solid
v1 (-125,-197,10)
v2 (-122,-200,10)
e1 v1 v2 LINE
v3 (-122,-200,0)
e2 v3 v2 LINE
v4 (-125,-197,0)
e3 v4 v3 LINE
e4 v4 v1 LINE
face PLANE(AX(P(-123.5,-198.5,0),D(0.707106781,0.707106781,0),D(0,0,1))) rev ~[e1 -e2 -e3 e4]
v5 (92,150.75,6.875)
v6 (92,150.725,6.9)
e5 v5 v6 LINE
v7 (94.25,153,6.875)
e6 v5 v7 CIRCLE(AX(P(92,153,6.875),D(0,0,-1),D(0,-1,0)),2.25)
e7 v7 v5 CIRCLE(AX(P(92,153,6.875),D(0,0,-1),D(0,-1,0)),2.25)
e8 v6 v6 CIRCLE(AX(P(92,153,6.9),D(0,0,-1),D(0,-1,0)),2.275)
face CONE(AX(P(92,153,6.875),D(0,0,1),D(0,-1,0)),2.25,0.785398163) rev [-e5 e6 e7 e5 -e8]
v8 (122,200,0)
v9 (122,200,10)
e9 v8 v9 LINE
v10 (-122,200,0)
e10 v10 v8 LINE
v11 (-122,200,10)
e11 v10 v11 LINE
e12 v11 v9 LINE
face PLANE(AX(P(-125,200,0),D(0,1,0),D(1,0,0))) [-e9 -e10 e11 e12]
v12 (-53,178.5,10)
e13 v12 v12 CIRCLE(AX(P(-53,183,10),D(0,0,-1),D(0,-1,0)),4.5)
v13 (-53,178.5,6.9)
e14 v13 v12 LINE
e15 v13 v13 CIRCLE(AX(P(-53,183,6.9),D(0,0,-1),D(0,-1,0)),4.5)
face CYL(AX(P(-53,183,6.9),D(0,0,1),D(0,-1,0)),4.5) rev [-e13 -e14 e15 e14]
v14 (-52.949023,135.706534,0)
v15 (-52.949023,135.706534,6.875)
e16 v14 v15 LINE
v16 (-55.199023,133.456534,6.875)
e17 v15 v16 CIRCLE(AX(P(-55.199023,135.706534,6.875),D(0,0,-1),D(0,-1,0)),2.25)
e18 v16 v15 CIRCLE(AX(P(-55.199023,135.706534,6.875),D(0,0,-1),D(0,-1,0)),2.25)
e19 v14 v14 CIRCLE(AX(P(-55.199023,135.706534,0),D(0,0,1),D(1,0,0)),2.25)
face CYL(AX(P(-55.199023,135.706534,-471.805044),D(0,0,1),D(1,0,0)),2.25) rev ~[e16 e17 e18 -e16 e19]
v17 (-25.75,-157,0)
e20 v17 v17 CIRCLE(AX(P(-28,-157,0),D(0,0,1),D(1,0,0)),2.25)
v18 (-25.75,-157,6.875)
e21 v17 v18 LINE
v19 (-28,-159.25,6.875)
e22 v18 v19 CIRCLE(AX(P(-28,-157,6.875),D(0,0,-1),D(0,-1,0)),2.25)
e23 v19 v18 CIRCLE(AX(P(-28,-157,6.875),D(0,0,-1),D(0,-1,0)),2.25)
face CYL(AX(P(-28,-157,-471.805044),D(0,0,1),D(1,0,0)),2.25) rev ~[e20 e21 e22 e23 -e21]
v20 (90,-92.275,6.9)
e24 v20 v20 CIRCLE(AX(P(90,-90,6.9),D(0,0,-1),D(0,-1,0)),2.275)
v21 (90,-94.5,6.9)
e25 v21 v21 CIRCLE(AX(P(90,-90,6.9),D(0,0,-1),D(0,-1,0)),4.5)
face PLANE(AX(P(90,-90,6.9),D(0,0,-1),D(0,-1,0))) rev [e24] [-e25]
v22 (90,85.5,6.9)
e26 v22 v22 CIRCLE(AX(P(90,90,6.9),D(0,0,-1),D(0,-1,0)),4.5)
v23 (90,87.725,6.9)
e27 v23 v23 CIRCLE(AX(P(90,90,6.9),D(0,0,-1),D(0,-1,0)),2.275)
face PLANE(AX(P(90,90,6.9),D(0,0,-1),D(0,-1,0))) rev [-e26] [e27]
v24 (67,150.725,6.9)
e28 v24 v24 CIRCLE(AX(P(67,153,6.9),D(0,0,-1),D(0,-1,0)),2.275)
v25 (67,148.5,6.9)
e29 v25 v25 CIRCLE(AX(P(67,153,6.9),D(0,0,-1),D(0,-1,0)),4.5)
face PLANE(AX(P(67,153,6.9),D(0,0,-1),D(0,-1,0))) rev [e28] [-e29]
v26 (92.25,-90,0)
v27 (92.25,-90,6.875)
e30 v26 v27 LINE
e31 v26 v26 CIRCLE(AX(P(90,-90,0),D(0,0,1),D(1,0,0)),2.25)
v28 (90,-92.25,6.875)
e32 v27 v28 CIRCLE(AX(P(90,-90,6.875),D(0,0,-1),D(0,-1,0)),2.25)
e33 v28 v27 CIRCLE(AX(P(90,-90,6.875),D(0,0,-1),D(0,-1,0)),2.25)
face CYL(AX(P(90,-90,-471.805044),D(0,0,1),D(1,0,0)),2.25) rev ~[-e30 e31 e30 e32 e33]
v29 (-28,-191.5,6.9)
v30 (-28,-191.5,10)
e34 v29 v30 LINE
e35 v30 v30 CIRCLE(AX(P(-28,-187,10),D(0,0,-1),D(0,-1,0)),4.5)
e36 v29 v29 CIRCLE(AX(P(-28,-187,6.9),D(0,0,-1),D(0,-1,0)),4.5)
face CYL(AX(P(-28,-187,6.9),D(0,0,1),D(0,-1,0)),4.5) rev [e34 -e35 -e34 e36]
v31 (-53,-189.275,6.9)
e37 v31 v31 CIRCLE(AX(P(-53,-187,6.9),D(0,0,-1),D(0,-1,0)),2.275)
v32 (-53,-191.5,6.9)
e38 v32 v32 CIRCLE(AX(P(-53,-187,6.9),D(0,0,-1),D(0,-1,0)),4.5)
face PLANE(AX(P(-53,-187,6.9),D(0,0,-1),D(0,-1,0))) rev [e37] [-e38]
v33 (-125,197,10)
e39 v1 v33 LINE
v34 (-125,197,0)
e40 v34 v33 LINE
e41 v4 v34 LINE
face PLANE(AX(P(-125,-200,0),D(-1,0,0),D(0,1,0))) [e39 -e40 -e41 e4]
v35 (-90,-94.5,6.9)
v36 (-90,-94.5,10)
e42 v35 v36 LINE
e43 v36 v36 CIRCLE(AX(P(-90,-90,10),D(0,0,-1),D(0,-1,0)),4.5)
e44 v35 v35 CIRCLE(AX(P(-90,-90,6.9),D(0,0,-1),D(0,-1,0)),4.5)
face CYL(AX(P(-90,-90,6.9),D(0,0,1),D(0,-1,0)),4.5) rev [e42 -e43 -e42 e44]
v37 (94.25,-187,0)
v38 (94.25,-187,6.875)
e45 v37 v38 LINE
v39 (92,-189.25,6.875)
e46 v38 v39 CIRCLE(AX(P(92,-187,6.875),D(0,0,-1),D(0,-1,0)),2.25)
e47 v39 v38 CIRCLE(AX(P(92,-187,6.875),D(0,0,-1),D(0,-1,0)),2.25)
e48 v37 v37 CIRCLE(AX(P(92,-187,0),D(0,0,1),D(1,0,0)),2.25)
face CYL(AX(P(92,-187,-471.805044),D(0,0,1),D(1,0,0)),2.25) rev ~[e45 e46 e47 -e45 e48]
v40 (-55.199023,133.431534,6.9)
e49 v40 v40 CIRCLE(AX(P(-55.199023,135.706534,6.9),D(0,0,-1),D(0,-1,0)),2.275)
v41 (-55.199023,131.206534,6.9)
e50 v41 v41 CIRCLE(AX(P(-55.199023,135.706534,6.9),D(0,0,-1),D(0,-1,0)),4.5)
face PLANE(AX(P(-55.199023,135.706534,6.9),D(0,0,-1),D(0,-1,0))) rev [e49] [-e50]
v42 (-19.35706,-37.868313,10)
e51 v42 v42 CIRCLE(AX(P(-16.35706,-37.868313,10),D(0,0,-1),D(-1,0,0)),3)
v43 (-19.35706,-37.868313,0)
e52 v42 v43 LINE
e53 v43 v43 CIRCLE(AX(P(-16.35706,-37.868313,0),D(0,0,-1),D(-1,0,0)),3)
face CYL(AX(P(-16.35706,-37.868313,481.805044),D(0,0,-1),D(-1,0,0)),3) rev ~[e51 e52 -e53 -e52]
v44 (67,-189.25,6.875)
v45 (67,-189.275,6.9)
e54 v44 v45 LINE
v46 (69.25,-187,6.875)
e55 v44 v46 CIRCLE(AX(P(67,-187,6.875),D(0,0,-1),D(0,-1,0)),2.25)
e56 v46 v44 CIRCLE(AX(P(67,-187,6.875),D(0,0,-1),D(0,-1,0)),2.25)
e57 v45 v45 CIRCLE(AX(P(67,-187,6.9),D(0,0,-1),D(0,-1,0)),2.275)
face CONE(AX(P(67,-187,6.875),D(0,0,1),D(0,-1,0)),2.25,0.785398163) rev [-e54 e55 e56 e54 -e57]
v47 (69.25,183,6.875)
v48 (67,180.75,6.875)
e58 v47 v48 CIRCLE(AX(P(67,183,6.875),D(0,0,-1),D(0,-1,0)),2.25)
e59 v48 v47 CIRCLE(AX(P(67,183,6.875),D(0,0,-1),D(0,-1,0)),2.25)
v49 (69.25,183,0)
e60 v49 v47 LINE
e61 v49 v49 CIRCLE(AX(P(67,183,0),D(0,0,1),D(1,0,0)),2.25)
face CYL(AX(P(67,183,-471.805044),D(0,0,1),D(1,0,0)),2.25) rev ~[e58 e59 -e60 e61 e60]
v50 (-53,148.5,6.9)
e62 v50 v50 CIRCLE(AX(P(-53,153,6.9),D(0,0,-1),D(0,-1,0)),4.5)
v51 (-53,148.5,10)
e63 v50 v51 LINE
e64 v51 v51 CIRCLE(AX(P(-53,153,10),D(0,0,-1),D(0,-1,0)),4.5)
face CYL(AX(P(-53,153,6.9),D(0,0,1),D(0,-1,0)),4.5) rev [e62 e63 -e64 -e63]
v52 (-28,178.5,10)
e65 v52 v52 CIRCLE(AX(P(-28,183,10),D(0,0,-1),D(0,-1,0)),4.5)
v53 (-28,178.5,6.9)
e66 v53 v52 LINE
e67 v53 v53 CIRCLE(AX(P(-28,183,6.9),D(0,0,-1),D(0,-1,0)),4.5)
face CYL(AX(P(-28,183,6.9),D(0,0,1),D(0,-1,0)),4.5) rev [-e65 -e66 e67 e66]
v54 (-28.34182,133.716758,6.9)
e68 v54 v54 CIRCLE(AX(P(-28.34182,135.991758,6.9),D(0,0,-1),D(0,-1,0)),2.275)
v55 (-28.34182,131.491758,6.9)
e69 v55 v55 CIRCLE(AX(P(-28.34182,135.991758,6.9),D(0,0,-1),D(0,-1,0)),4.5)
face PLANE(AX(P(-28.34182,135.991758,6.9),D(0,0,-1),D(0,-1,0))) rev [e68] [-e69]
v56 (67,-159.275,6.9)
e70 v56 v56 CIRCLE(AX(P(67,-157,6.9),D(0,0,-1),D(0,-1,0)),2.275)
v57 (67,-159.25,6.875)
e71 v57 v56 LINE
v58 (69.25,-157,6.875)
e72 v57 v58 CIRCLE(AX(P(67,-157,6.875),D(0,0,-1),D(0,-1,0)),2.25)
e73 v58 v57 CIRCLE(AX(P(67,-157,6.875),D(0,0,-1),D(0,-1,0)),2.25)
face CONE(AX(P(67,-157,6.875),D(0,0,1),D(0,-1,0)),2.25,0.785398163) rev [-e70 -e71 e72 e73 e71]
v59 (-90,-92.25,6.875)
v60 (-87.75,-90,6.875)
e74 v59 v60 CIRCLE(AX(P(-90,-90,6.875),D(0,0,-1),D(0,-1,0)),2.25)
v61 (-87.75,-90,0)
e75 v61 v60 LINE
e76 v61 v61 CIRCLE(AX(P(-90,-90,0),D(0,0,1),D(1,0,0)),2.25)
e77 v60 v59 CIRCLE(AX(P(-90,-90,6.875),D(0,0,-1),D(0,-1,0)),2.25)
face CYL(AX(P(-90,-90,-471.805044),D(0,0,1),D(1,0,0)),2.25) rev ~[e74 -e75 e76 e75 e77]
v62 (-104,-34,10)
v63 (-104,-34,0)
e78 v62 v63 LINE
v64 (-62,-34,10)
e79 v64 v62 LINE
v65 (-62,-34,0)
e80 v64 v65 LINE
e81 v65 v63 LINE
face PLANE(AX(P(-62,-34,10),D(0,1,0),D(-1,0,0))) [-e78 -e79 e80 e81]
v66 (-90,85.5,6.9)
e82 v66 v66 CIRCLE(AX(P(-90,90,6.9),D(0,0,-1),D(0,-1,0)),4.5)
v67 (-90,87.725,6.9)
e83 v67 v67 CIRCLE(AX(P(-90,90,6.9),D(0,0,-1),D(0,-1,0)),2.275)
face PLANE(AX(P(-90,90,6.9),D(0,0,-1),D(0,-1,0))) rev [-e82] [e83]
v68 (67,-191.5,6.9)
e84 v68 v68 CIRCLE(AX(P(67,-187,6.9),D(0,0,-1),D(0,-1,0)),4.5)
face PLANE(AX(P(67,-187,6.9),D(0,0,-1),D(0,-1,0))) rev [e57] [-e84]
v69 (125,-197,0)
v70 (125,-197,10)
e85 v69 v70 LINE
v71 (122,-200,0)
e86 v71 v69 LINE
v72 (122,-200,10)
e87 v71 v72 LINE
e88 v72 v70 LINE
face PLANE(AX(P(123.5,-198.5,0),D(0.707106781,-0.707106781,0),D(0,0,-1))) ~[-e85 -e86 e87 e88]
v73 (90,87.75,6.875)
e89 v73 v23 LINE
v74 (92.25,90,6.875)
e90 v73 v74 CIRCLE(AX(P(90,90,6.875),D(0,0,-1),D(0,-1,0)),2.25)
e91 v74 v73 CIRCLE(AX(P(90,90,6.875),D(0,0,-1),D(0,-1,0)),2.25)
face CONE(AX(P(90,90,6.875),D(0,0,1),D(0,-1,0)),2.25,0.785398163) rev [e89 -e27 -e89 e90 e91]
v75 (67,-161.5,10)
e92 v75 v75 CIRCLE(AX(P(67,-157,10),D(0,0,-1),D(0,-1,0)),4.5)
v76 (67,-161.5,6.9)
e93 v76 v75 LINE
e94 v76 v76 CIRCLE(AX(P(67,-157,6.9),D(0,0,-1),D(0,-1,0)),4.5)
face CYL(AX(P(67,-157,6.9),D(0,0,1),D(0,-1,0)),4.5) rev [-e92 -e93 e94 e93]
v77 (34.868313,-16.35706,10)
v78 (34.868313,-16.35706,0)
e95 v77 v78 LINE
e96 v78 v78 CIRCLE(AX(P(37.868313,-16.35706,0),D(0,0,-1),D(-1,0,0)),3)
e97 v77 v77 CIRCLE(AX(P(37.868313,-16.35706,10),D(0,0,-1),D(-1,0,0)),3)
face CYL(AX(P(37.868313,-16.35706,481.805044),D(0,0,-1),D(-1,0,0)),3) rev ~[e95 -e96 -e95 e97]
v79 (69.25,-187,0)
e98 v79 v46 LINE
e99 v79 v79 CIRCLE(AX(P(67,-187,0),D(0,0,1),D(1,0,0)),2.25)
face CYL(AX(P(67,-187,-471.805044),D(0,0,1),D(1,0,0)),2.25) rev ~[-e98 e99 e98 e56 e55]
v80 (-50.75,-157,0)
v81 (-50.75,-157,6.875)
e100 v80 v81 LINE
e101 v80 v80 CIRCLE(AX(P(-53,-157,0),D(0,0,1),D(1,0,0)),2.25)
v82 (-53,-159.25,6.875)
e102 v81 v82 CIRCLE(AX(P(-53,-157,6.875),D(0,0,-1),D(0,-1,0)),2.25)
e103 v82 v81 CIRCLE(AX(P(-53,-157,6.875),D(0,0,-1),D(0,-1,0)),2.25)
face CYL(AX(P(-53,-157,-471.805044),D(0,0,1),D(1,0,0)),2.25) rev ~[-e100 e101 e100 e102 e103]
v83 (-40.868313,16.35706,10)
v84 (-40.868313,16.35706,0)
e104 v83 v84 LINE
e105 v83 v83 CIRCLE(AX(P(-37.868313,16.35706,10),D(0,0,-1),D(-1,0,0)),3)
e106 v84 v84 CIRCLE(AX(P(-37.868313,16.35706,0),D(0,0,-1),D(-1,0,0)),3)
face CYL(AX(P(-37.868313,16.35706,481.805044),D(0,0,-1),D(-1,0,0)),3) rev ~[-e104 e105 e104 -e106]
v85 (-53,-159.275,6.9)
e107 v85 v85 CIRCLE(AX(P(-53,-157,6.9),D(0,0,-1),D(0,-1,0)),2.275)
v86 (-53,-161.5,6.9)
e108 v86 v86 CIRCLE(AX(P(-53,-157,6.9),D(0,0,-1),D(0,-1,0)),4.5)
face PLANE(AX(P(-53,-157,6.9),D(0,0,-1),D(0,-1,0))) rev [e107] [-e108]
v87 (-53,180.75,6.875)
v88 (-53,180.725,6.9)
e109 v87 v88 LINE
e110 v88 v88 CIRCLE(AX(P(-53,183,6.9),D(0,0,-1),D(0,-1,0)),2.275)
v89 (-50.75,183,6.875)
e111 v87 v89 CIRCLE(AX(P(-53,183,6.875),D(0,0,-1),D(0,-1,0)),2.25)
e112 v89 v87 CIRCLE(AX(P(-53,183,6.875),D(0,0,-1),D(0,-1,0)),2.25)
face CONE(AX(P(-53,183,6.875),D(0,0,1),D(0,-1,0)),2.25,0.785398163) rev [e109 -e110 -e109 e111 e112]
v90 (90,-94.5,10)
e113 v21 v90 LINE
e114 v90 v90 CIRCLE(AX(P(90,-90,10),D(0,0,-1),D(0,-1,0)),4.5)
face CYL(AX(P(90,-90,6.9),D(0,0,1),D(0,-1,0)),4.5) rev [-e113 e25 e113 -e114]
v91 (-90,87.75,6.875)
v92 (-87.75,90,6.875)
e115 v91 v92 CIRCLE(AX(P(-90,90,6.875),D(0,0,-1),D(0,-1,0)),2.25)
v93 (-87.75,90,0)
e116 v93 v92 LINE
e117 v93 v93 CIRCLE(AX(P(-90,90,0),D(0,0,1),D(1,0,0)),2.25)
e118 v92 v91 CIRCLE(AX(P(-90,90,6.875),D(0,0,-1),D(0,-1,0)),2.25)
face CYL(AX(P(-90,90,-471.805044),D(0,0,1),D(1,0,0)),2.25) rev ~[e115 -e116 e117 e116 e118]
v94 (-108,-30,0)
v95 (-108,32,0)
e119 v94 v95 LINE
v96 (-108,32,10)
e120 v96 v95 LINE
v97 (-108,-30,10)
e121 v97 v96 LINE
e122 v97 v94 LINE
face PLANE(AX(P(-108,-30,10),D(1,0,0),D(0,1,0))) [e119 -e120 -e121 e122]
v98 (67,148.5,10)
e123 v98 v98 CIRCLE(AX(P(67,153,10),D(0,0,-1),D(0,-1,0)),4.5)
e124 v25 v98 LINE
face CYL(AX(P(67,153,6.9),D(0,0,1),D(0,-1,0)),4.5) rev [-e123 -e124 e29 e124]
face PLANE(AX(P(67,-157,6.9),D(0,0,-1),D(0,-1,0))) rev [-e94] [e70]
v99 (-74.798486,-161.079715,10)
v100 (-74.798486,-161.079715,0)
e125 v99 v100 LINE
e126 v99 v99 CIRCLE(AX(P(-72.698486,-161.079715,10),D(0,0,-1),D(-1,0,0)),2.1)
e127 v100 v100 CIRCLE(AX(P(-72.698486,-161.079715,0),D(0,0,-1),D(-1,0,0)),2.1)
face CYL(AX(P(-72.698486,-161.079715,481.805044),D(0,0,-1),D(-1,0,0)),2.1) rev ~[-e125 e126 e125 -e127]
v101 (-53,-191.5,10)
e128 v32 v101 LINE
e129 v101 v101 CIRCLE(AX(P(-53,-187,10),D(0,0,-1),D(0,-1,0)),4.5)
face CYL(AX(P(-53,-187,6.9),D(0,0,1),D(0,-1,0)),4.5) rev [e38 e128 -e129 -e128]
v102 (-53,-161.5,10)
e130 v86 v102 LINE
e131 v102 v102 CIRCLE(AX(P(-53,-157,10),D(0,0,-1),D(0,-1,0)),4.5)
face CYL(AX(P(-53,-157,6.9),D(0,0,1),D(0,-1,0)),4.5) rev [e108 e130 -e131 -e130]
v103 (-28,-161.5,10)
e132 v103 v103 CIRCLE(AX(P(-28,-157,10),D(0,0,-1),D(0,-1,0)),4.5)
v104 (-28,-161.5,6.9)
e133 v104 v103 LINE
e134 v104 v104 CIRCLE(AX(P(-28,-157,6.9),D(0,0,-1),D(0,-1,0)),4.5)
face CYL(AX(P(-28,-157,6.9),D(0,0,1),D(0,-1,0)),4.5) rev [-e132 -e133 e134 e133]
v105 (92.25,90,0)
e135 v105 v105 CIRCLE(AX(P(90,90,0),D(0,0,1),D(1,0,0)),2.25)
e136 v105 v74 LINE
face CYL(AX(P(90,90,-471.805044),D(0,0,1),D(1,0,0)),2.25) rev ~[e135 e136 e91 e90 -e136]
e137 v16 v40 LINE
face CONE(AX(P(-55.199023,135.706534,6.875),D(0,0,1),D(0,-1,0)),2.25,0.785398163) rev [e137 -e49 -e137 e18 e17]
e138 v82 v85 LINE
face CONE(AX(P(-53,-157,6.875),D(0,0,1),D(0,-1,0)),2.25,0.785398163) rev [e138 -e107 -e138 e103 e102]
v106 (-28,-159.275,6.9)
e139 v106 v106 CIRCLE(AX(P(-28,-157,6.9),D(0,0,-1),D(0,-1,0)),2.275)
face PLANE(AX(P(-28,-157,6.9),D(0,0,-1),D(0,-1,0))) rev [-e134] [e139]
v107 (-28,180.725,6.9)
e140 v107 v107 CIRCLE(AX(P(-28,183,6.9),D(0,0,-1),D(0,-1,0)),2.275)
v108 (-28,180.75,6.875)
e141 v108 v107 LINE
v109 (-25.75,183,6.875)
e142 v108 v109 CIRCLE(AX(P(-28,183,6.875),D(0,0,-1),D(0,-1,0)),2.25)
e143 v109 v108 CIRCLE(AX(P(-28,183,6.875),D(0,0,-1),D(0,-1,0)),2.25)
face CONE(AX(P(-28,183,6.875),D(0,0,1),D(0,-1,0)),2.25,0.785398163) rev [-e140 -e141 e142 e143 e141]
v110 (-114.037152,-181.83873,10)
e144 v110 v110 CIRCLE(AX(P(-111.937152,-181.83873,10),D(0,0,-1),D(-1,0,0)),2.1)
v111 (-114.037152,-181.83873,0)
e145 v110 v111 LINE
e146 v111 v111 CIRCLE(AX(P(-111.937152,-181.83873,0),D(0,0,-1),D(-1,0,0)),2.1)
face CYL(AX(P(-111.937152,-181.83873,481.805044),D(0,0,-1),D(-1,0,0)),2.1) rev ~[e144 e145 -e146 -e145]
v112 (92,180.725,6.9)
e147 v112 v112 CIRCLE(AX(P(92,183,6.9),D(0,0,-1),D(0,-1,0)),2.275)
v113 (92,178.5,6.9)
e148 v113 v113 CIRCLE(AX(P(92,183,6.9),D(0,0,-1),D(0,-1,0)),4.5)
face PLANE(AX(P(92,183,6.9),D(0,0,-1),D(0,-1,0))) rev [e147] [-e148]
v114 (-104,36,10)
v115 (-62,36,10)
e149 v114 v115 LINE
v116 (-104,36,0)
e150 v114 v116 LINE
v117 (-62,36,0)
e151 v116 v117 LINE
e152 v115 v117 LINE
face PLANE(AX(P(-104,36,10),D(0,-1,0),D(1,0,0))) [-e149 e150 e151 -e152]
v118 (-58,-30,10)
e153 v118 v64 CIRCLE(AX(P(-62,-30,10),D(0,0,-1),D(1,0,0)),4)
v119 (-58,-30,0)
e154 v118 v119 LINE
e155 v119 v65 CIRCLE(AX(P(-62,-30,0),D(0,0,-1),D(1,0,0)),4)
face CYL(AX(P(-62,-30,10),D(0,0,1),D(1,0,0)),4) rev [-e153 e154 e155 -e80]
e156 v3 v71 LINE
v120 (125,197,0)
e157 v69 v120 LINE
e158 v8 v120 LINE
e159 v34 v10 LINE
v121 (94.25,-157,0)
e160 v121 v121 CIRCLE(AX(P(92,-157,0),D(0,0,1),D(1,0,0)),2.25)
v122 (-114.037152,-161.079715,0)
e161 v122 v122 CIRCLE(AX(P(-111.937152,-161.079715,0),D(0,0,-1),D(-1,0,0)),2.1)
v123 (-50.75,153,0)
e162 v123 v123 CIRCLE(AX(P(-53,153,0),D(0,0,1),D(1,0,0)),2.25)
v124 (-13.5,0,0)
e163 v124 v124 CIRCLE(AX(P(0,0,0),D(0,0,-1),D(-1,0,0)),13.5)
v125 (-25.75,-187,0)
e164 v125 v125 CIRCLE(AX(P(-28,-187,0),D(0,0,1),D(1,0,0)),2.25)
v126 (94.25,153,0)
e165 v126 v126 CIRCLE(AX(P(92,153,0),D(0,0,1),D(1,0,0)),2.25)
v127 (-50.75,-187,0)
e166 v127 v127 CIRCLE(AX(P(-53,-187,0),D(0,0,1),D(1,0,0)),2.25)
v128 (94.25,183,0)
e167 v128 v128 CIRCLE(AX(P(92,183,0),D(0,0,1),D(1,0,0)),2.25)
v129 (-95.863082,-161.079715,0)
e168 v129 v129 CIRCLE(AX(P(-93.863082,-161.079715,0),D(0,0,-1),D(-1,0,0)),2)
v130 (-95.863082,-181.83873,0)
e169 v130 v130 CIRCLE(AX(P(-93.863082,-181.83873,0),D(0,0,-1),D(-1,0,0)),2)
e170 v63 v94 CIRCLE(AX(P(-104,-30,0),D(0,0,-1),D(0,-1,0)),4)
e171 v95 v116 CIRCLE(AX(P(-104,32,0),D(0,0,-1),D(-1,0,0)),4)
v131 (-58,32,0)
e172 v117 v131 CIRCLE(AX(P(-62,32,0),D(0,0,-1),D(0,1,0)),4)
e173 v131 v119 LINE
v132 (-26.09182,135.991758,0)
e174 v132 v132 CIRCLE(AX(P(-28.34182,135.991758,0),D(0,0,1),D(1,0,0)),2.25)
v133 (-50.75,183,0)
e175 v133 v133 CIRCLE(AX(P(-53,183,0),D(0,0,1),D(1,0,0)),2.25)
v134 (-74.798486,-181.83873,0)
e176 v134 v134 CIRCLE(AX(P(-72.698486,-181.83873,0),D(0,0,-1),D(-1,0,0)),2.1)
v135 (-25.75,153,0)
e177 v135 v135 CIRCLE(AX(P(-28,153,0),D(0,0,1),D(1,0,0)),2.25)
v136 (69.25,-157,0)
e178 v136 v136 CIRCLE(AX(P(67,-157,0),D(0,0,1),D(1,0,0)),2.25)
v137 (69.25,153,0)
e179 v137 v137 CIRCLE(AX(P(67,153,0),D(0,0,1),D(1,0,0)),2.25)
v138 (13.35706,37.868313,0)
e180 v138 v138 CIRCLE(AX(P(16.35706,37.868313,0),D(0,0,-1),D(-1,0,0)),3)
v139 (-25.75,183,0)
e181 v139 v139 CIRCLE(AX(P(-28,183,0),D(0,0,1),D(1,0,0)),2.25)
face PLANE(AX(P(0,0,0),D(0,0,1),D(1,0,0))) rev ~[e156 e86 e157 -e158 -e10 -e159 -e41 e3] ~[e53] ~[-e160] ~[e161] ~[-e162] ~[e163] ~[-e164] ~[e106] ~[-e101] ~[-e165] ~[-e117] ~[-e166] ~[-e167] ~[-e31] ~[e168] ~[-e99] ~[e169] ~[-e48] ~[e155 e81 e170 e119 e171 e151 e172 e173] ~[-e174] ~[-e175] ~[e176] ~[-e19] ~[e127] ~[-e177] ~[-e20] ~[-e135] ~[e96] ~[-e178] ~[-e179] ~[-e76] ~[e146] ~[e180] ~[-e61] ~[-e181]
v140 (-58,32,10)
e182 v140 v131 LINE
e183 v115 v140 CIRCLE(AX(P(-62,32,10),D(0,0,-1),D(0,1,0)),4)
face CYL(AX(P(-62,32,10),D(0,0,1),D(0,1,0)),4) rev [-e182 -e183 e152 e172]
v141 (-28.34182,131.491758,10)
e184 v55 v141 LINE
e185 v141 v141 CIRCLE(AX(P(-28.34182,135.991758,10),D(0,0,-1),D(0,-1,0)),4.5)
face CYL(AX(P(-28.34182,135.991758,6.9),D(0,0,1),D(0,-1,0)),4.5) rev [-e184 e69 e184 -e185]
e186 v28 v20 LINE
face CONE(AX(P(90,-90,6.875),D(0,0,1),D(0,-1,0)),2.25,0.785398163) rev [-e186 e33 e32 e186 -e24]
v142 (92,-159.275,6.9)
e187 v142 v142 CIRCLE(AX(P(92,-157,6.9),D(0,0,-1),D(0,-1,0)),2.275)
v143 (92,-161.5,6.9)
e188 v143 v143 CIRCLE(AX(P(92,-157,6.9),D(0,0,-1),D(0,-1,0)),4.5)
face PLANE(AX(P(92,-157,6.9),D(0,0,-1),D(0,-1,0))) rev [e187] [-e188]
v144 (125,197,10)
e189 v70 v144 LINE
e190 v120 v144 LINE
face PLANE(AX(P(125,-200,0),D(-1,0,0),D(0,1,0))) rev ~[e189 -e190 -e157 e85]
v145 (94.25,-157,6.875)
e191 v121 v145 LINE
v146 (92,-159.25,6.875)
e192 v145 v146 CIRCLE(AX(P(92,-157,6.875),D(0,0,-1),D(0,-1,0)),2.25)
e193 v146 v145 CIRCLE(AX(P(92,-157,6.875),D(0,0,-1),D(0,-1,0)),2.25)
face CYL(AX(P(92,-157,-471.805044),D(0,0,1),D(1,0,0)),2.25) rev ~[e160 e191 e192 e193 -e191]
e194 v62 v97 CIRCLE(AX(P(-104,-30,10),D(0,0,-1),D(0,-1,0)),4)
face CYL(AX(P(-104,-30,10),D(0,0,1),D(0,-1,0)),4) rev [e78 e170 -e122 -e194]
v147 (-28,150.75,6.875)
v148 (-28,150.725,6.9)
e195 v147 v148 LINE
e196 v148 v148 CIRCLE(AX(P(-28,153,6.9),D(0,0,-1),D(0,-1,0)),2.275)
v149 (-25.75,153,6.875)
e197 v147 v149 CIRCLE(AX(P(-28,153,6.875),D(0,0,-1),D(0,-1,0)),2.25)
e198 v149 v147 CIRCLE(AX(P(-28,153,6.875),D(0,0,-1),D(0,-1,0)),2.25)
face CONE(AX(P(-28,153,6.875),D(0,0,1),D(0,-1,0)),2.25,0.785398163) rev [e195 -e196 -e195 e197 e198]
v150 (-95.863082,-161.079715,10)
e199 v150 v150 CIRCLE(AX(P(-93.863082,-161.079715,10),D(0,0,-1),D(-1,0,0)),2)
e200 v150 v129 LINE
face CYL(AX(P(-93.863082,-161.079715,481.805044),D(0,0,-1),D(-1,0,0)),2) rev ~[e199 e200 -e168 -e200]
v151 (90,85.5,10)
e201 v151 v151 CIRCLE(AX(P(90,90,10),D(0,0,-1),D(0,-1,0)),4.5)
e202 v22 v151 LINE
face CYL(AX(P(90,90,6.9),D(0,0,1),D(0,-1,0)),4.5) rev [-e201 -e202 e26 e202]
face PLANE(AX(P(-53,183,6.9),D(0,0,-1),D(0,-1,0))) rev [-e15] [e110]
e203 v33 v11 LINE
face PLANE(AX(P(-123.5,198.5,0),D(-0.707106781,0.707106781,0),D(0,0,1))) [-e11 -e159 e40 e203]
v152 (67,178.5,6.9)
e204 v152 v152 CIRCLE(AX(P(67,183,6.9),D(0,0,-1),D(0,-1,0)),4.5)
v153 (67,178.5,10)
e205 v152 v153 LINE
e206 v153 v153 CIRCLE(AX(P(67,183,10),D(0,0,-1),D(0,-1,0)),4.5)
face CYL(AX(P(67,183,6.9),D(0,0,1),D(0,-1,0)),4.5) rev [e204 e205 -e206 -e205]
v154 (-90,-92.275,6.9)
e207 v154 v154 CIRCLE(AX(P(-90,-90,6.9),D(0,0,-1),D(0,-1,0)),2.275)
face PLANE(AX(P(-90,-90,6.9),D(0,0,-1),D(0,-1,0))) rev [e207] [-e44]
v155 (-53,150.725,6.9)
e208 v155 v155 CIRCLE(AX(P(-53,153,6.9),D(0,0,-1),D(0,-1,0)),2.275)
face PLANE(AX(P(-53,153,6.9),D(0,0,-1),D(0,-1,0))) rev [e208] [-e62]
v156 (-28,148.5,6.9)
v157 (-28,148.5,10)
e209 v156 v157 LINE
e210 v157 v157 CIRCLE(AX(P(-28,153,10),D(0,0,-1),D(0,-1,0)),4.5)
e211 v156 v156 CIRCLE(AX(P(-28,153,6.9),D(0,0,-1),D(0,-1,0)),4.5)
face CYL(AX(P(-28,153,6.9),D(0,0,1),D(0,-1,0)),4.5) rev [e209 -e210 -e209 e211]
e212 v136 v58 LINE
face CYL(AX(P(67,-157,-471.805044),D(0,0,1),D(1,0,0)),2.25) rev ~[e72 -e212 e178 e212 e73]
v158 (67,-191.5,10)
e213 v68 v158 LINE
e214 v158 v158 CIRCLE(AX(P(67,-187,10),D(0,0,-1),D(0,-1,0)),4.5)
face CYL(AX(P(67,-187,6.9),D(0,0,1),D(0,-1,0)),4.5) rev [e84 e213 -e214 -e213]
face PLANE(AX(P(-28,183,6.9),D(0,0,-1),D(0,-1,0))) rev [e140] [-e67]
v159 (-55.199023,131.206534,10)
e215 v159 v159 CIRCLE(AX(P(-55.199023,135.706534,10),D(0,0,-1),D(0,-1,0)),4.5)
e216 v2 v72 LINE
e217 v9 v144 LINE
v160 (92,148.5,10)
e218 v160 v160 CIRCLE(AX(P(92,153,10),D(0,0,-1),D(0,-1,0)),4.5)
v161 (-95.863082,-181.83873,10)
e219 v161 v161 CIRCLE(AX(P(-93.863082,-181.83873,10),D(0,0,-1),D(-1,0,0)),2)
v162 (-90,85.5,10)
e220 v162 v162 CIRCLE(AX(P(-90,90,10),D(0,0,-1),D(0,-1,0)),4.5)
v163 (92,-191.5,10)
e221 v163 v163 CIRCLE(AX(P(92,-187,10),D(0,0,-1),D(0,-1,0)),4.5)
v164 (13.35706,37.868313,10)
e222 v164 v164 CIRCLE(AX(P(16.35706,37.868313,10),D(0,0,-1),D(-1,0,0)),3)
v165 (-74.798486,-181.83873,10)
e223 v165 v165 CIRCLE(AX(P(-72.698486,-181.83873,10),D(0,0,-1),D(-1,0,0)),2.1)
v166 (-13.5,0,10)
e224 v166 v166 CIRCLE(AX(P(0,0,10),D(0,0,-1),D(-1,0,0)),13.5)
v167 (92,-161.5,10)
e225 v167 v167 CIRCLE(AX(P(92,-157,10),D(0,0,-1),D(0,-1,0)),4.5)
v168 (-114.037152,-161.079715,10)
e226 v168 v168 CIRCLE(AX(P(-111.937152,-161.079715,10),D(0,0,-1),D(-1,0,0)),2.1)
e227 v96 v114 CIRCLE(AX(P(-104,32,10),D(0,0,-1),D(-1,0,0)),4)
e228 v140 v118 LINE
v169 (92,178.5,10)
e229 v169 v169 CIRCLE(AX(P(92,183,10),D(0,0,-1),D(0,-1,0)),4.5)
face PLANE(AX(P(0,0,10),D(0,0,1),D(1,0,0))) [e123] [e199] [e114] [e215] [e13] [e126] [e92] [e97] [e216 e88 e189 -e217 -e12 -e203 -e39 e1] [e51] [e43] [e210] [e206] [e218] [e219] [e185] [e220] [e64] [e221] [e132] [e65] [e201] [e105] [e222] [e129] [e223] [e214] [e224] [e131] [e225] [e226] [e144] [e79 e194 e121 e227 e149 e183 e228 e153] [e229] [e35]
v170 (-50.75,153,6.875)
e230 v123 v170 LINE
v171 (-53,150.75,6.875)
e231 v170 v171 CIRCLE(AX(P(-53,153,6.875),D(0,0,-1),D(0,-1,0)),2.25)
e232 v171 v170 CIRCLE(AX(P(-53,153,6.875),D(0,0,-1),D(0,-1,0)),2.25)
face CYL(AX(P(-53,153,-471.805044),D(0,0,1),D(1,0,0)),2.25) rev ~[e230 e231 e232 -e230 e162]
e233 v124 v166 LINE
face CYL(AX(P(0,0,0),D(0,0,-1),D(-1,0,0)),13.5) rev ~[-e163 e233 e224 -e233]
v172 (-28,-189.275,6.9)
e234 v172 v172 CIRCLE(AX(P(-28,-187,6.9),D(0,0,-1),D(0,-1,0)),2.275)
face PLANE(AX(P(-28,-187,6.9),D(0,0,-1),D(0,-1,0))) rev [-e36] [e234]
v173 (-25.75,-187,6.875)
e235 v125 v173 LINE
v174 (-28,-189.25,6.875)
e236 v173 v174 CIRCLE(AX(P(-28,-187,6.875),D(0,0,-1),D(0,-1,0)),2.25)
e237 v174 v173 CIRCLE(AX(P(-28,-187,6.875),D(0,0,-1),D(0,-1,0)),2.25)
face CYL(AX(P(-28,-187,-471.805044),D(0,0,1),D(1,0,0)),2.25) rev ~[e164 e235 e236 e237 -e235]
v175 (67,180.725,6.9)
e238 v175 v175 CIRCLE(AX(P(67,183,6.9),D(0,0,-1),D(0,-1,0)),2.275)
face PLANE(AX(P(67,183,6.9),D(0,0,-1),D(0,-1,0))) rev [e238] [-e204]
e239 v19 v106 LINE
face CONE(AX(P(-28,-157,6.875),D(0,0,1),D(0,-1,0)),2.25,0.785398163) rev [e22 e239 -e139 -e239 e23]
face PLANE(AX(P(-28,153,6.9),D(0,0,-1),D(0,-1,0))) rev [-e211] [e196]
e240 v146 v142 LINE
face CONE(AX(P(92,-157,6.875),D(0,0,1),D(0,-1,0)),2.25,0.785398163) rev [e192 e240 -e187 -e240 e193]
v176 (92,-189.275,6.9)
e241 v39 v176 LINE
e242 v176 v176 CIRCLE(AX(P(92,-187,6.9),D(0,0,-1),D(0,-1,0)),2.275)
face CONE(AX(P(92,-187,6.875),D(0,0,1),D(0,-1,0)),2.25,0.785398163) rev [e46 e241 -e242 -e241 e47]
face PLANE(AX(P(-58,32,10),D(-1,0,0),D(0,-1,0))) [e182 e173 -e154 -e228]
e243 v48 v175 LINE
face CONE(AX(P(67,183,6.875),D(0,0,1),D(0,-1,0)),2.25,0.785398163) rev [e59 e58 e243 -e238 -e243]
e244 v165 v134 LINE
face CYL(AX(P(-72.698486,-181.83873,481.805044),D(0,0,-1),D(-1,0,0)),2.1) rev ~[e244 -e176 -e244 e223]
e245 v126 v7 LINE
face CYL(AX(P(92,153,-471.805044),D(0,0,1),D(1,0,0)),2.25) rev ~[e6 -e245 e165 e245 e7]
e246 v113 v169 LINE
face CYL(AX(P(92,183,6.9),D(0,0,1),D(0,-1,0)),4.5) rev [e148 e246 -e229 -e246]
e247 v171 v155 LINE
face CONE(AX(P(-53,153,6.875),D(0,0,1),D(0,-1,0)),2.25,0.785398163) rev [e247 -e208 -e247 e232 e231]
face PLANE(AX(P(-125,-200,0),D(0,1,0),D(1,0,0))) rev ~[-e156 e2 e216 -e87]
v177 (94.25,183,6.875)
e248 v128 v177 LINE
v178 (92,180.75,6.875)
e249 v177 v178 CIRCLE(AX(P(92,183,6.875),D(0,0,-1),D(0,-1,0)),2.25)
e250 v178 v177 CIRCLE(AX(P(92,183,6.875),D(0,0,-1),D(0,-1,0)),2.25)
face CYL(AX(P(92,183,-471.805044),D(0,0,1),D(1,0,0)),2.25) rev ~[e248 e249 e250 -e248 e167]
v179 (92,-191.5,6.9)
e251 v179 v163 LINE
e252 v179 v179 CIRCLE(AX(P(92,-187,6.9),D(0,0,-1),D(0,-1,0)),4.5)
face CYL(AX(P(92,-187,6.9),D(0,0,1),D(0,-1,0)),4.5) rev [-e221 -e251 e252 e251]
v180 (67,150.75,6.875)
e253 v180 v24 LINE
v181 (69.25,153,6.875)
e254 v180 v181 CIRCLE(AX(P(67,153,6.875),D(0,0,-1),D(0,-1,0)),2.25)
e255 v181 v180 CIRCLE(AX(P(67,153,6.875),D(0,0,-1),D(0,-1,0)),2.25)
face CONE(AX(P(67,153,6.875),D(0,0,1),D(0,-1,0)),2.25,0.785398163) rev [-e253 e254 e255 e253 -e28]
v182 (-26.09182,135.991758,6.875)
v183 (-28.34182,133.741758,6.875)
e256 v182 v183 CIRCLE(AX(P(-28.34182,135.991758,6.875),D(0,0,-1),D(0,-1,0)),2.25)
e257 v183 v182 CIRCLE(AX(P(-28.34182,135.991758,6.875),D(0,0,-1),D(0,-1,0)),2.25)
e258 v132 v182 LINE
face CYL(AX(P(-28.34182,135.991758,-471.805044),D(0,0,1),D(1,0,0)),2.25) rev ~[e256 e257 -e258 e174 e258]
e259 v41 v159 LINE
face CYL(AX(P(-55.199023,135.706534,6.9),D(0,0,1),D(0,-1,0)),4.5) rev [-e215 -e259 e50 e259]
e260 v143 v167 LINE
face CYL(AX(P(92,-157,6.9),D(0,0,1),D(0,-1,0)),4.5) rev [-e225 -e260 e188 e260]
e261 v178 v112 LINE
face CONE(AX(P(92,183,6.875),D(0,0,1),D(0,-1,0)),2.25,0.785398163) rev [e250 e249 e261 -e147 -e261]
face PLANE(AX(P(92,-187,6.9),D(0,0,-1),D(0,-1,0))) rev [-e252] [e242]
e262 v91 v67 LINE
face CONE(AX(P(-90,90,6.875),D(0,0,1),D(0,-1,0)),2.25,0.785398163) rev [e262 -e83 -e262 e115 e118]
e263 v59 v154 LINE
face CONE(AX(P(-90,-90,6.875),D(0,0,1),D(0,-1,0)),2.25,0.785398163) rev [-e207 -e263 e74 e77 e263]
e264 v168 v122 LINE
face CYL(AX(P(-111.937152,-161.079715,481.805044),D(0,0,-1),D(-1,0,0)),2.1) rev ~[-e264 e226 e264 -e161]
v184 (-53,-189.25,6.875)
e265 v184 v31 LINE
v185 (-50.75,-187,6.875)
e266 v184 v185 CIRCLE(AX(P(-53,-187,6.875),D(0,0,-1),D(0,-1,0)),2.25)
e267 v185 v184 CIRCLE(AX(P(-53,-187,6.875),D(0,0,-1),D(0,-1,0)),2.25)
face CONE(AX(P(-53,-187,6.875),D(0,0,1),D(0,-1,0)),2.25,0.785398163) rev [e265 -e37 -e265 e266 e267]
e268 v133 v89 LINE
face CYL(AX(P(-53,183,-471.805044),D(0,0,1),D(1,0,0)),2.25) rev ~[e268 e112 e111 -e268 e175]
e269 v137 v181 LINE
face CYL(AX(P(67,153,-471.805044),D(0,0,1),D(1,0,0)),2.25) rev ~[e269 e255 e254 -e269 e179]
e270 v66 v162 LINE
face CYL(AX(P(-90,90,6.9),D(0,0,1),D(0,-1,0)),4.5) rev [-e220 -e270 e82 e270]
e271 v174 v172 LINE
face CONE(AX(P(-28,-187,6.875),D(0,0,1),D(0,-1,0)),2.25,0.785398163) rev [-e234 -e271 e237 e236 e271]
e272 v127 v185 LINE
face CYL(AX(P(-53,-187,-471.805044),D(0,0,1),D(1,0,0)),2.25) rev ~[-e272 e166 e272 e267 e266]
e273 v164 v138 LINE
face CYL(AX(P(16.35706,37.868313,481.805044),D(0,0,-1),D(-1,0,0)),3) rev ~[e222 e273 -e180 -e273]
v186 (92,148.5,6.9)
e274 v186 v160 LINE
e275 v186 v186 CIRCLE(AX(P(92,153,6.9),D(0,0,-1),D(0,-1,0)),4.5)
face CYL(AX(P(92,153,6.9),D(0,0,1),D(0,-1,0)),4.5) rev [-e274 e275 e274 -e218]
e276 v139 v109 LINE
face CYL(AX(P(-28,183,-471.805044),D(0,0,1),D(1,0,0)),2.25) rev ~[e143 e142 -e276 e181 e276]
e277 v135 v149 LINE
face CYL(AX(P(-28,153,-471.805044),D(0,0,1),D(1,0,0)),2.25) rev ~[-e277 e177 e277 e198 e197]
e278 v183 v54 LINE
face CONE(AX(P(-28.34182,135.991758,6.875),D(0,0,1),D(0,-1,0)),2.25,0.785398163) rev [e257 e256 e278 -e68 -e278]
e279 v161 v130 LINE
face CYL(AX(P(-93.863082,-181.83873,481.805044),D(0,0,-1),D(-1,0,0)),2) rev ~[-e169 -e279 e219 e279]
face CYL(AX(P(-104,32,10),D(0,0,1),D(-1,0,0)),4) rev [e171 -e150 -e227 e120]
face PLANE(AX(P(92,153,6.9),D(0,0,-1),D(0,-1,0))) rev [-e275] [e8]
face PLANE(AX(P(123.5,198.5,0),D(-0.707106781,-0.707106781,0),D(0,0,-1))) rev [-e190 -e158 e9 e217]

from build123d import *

# Parameters (mm, degrees)
ESQUISSE1_W                                  = 250
ESQUISSE1_H                                  = 400
BOSS_EXTRU_1_DEPTH                           = 10
ESQUISSE2_R                                  = 13.5
ENL_V_MAT_EXTRU_1_DEPTH                      = 237.061432682
CHANFREIN1_SIZE                              = 3
TROU_TARAUD_M51_D                            = 4.2
TROUS_DE_CENTRAGE_4_0MM2_D                   = 4
TROUS_DE_CENTRAGE_6_0MM2_D                   = 6
D_GAGEMENT_M41_D                             = 4.5
R_P_TITION_LIN_AIRE1_COUNT                   = 2
R_P_TITION_LIN_AIRE1_PITCH                   = 120
R_P_TITION_LIN_AIRE1_COUNT_DIR2              = 2
R_P_TITION_LIN_AIRE1_PITCH_DIR2              = 340
R_P_TITION_LIN_AIRE2_COUNT                   = 2
R_P_TITION_LIN_AIRE2_PITCH                   = 30
R_P_TITION_LIN_AIRE2_COUNT_DIR2              = 2
R_P_TITION_LIN_AIRE2_PITCH_DIR2              = 25
R_P_TITION_LIN_AIRE3_COUNT                   = 2
R_P_TITION_LIN_AIRE3_PITCH                   = 120
R_P_TITION_LIN_AIRE3_COUNT_DIR2              = 2
R_P_TITION_LIN_AIRE3_PITCH_DIR2              = 340
D_GAGEMENT_M42_D                             = 4.5
CHAMBRAGE_POUR_VIS_T_TE_RONDE_BOMB_2_A_COUNT = 2
CHAMBRAGE_POUR_VIS_T_TE_RONDE_BOMB_2_A_PITCH = 180
CHAMBRAGE_POUR_VIS_T_TE_RONDE_BOMB_3_COUNT   = 2
CHAMBRAGE_POUR_VIS_T_TE_RONDE_BOMB_3_PITCH   = 180
CHAMBRAGE_POUR_VIS_T_TE_RONDE_BOMB_4_COUNT   = 2
CHAMBRAGE_POUR_VIS_T_TE_RONDE_BOMB_4_PITCH   = 254.558441227
D_GAGEMENT_M43_D                             = 4.5
CHAMBRAGE_POUR_VIS_T_TE_RONDE_BOMB_5_A_COUNT = 2
CHAMBRAGE_POUR_VIS_T_TE_RONDE_BOMB_5_A_PITCH = 26.858717456
CUT_EXTRUDE1_DEPTH                           = 10


with BuildPart() as part:
    # Esquisse1 → Boss.-Extru.1 (new body)
    with BuildSketch(Plane.XY):
        Rectangle(ESQUISSE1_W, ESQUISSE1_H)
    extrude(amount=BOSS_EXTRU_1_DEPTH)

    # Esquisse2 → Enlèv. mat.-Extru.1 (cut, through all)
    with BuildSketch(Plane(origin=(0, 0, 0), x_dir=(-1, 0, 0), z_dir=(0, 0, -1))):
        Circle(ESQUISSE2_R)
    extrude(amount=-ENL_V_MAT_EXTRU_1_DEPTH, mode=Mode.SUBTRACT)

    # Chanfrein1
    chanfrein1_edges = [part.edges().sort_by_distance(p)[0] for p in [
        (125, -200, 5),
        (-125, -200, 5),
        (-125, 200, 5),
        (125, 200, 5),
    ]]
    chamfer(chanfrein1_edges, length=CHANFREIN1_SIZE)

    # Trou taraudé M51 (through all)
    with Locations(Plane.XY.offset(10)):
        with Locations((-72.698486264, -161.07971462), (-72.698486264, -181.838730229), (-111.937151978, -181.838730229), (-111.937151978, -161.07971462)):
            Hole(TROU_TARAUD_M51_D / 2)

    # Trous de centrage Ø4.0mm2 (through all)
    with Locations(Plane.XY.offset(10)):
        with Locations((-93.86308218, -161.07971462), (-93.86308218, -181.838730229)):
            Hole(TROUS_DE_CENTRAGE_4_0MM2_D / 2)

    # Trous de centrage Ø6.0mm2 (through all)
    with Locations(Plane.XY.offset(10)):
        with Locations((16.357059687, 37.86831259), (37.86831259, -16.357059687), (-16.357059687, -37.86831259), (-37.86831259, 16.357059687)):
            Hole(TROUS_DE_CENTRAGE_6_0MM2_D / 2)

    # Dégagement M41 (through all)
    with Locations(Plane(origin=(0, 0, 0), x_dir=(-1, 0, 0), z_dir=(0, 0, -1))):
        with Locations((28, -187), (28, -157), (53, -157), (53, -187)):
            d_gagement_m41 = Hole(D_GAGEMENT_M41_D / 2)

    # Répétition linéaire1: D_gagement M41 2 × 2
    with Locations(*[(i * R_P_TITION_LIN_AIRE1_PITCH, j * R_P_TITION_LIN_AIRE1_PITCH_DIR2, 0) for i in range(R_P_TITION_LIN_AIRE1_COUNT) for j in range(R_P_TITION_LIN_AIRE1_COUNT_DIR2) if (i, j) != (0, 0)]):
        add(d_gagement_m41, mode=Mode.SUBTRACT)

    # Esquisse29 → Chambrage pour vis _ t_te ronde bomb_e M (revolve, cut)
    with BuildSketch(Plane(origin=(92, -157, 10), x_dir=(0, -1, 0), z_dir=(1, 0, 0))):
        Polygon((0, 0), (0, 10), (2.25, 10), (2.25, 3.125), (2.275, 3.1), (4.5, 3.1), (4.5, 0), align=None)
    chambrage_pour_vis_t_te_ronde_bomb_e_m = revolve(axis=Axis((92, -157, 16.35), (0, 0, -1)), mode=Mode.SUBTRACT)

    # Répétition linéaire2: Chambrage pour vis _ t_te ronde bomb_e M 2 × 2
    with Locations(*[(-j * R_P_TITION_LIN_AIRE2_PITCH_DIR2, -i * R_P_TITION_LIN_AIRE2_PITCH, 0) for i in range(R_P_TITION_LIN_AIRE2_COUNT) for j in range(R_P_TITION_LIN_AIRE2_COUNT_DIR2) if (i, j) != (0, 0)]):
        add(chambrage_pour_vis_t_te_ronde_bomb_e_m, mode=Mode.SUBTRACT)

    # Répétition linéaire3: Chambrage pour vis _ t_te ronde bomb_e M 2 × 2
    with Locations(*[(-i * R_P_TITION_LIN_AIRE3_PITCH, j * R_P_TITION_LIN_AIRE3_PITCH_DIR2, 0) for i in range(R_P_TITION_LIN_AIRE3_COUNT) for j in range(R_P_TITION_LIN_AIRE3_COUNT_DIR2) if (i, j) != (0, 0)]):
        add(chambrage_pour_vis_t_te_ronde_bomb_e_m, mode=Mode.SUBTRACT)

    # Répétition linéaire3 copy 1 sketch → Répétition linéaire3 copy 1 (revolve, cut)
    with BuildSketch(Plane(origin=(67, 183, 10), x_dir=(0, -1, 0), z_dir=(1, 0, 0))):
        Polygon((0, 0), (0, 10), (2.25, 10), (2.25, 3.125), (2.275, 3.1), (4.5, 3.1), (4.5, 0), align=None)
    revolve(axis=Axis((67, 183, 16.35), (0, 0, -1)), mode=Mode.SUBTRACT)

    # Répétition linéaire3 copy 2 sketch → Répétition linéaire3 copy 2 (revolve, cut)
    with BuildSketch(Plane(origin=(-53, -157, 10), x_dir=(0, -1, 0), z_dir=(1, 0, 0))):
        Polygon((0, 0), (0, 10), (2.25, 10), (2.25, 3.125), (2.275, 3.1), (4.5, 3.1), (4.5, 0), align=None)
    revolve(axis=Axis((-53, -157, 16.35), (0, 0, -1)), mode=Mode.SUBTRACT)

    # Répétition linéaire3 copy 3 sketch → Répétition linéaire3 copy 3 (revolve, cut)
    with BuildSketch(Plane(origin=(-53, 183, 10), x_dir=(0, -1, 0), z_dir=(1, 0, 0))):
        Polygon((0, 0), (0, 10), (2.25, 10), (2.25, 3.125), (2.275, 3.1), (4.5, 3.1), (4.5, 0), align=None)
    revolve(axis=Axis((-53, 183, 16.35), (0, 0, -1)), mode=Mode.SUBTRACT)

    # Répétition linéaire3 copy 4 sketch → Répétition linéaire3 copy 4 (revolve, cut)
    with BuildSketch(Plane(origin=(92, 153, 10), x_dir=(0, -1, 0), z_dir=(1, 0, 0))):
        Polygon((0, 0), (0, 10), (2.25, 10), (2.25, 3.125), (2.275, 3.1), (4.5, 3.1), (4.5, 0), align=None)
    revolve(axis=Axis((92, 153, 16.35), (0, 0, -1)), mode=Mode.SUBTRACT)

    # Répétition linéaire3 copy 5 sketch → Répétition linéaire3 copy 5 (revolve, cut)
    with BuildSketch(Plane(origin=(-28, -187, 10), x_dir=(0, -1, 0), z_dir=(1, 0, 0))):
        Polygon((0, 0), (0, 10), (2.25, 10), (2.25, 3.125), (2.275, 3.1), (4.5, 3.1), (4.5, 0), align=None)
    revolve(axis=Axis((-28, -187, 16.35), (0, 0, -1)), mode=Mode.SUBTRACT)

    # Répétition linéaire3 copy 6 sketch → Répétition linéaire3 copy 6 (revolve, cut)
    with BuildSketch(Plane(origin=(-28, 153, 10), x_dir=(0, -1, 0), z_dir=(1, 0, 0))):
        Polygon((0, 0), (0, 10), (2.25, 10), (2.25, 3.125), (2.275, 3.1), (4.5, 3.1), (4.5, 0), align=None)
    revolve(axis=Axis((-28, 153, 16.35), (0, 0, -1)), mode=Mode.SUBTRACT)

    # Répétition linéaire3 copy 7 sketch → Répétition linéaire3 copy 7 (revolve, cut)
    with BuildSketch(Plane(origin=(67, 153, 10), x_dir=(0, -1, 0), z_dir=(1, 0, 0))):
        Polygon((0, 0), (0, 10), (2.25, 10), (2.25, 3.125), (2.275, 3.1), (4.5, 3.1), (4.5, 0), align=None)
    revolve(axis=Axis((67, 153, 16.35), (0, 0, -1)), mode=Mode.SUBTRACT)

    # Répétition linéaire3 copy 8 sketch → Répétition linéaire3 copy 8 (revolve, cut)
    with BuildSketch(Plane(origin=(-53, -187, 10), x_dir=(0, -1, 0), z_dir=(1, 0, 0))):
        Polygon((0, 0), (0, 10), (2.25, 10), (2.25, 3.125), (2.275, 3.1), (4.5, 3.1), (4.5, 0), align=None)
    revolve(axis=Axis((-53, -187, 16.35), (0, 0, -1)), mode=Mode.SUBTRACT)

    # Répétition linéaire3 copy 9 sketch → Répétition linéaire3 copy 9 (revolve, cut)
    with BuildSketch(Plane(origin=(-53, 153, 10), x_dir=(0, -1, 0), z_dir=(1, 0, 0))):
        Polygon((0, 0), (0, 10), (2.25, 10), (2.25, 3.125), (2.275, 3.1), (4.5, 3.1), (4.5, 0), align=None)
    revolve(axis=Axis((-53, 153, 16.35), (0, 0, -1)), mode=Mode.SUBTRACT)

    # Dégagement M42 (through all)
    with Locations(Plane(origin=(0, 0, 0), x_dir=(-1, 0, 0), z_dir=(0, 0, -1))):
        with Locations((90, -90), (90, 90), (-90, 90), (-90, -90)):
            Hole(D_GAGEMENT_M42_D / 2)

    # Esquisse33 → Chambrage pour vis _ t_te ronde bomb 2 (revolve, cut)
    with BuildSketch(Plane(origin=(-90, -90, 10), x_dir=(0, -1, 0), z_dir=(1, 0, 0))):
        Polygon((0, 0), (0, 10), (2.25, 10), (2.25, 3.125), (2.275, 3.1), (4.5, 3.1), (4.5, 0), align=None)
    chambrage_pour_vis_t_te_ronde_bomb_2 = revolve(axis=Axis((-90, -90, 16.35), (0, 0, -1)), mode=Mode.SUBTRACT)

    # Chambrage pour vis _ t_te ronde bomb 2 a: Chambrage pour vis _ t_te ronde bomb 2 ×2
    with Locations(*[(0, i * CHAMBRAGE_POUR_VIS_T_TE_RONDE_BOMB_2_A_PITCH, 0) for i in range(1, CHAMBRAGE_POUR_VIS_T_TE_RONDE_BOMB_2_A_COUNT)]):
        add(chambrage_pour_vis_t_te_ronde_bomb_2, mode=Mode.SUBTRACT)

    # Chambrage pour vis _ t_te ronde bomb 3: Chambrage pour vis _ t_te ronde bomb 2 ×2
    with Locations(*[(i * CHAMBRAGE_POUR_VIS_T_TE_RONDE_BOMB_3_PITCH, 0, 0) for i in range(1, CHAMBRAGE_POUR_VIS_T_TE_RONDE_BOMB_3_COUNT)]):
        add(chambrage_pour_vis_t_te_ronde_bomb_2, mode=Mode.SUBTRACT)

    # Chambrage pour vis _ t_te ronde bomb 4: Chambrage pour vis _ t_te ronde bomb 2 ×2
    with Locations(*[Vector(0.7071067811864814, 0.7071067811866137, 0) * (i * CHAMBRAGE_POUR_VIS_T_TE_RONDE_BOMB_4_PITCH) for i in range(1, CHAMBRAGE_POUR_VIS_T_TE_RONDE_BOMB_4_COUNT)]):
        add(chambrage_pour_vis_t_te_ronde_bomb_2, mode=Mode.SUBTRACT)

    # Dégagement M43 (through all)
    with Locations(Plane(origin=(0, 0, 0), x_dir=(-1, 0, 0), z_dir=(0, 0, -1))):
        with Locations((55.199022773, 135.70653433), (28.341819814, 135.991758108)):
            Hole(D_GAGEMENT_M43_D / 2)

    # Esquisse37 → Chambrage pour vis _ t_te ronde bomb 5 (revolve, cut)
    with BuildSketch(Plane(origin=(-55.199022773, 135.70653433, 10), x_dir=(0, -1, 0), z_dir=(1, 0, 0))):
        Polygon((0, 0), (0, 10), (2.25, 10), (2.25, 3.125), (2.275, 3.1), (4.5, 3.1), (4.5, 0), align=None)
    chambrage_pour_vis_t_te_ronde_bomb_5 = revolve(axis=Axis((-55.199022773, 135.70653433, 16.35), (0, 0, -1)), mode=Mode.SUBTRACT)

    # Chambrage pour vis _ t_te ronde bomb 5 a: Chambrage pour vis _ t_te ronde bomb 5 ×2
    with Locations(*[Vector(0.9999436124580966, 0.010619411671655749, 0) * (i * CHAMBRAGE_POUR_VIS_T_TE_RONDE_BOMB_5_A_PITCH) for i in range(1, CHAMBRAGE_POUR_VIS_T_TE_RONDE_BOMB_5_A_COUNT)]):
        add(chambrage_pour_vis_t_te_ronde_bomb_5, mode=Mode.SUBTRACT)

    # Sketch2 → Cut-Extrude1 (cut)
    with BuildSketch(Plane.XY.offset(10)):
        with BuildLine():
            Line((-104, 36), (-62, 36))
            ThreePointArc((-62, 36), (-59.171572875, 34.828427125), (-58, 32))
            Line((-58, 32), (-58, -30))
            ThreePointArc((-58, -30), (-59.171572875, -32.828427125), (-62, -34))
            Line((-62, -34), (-104, -34))
            ThreePointArc((-104, -34), (-106.828427125, -32.828427125), (-108, -30))
            Line((-108, -30), (-108, 32))
            ThreePointArc((-108, 32), (-106.828427125, 34.828427125), (-104, 36))
        make_face()
    extrude(amount=-CUT_EXTRUDE1_DEPTH, mode=Mode.SUBTRACT)


solid = part.part
